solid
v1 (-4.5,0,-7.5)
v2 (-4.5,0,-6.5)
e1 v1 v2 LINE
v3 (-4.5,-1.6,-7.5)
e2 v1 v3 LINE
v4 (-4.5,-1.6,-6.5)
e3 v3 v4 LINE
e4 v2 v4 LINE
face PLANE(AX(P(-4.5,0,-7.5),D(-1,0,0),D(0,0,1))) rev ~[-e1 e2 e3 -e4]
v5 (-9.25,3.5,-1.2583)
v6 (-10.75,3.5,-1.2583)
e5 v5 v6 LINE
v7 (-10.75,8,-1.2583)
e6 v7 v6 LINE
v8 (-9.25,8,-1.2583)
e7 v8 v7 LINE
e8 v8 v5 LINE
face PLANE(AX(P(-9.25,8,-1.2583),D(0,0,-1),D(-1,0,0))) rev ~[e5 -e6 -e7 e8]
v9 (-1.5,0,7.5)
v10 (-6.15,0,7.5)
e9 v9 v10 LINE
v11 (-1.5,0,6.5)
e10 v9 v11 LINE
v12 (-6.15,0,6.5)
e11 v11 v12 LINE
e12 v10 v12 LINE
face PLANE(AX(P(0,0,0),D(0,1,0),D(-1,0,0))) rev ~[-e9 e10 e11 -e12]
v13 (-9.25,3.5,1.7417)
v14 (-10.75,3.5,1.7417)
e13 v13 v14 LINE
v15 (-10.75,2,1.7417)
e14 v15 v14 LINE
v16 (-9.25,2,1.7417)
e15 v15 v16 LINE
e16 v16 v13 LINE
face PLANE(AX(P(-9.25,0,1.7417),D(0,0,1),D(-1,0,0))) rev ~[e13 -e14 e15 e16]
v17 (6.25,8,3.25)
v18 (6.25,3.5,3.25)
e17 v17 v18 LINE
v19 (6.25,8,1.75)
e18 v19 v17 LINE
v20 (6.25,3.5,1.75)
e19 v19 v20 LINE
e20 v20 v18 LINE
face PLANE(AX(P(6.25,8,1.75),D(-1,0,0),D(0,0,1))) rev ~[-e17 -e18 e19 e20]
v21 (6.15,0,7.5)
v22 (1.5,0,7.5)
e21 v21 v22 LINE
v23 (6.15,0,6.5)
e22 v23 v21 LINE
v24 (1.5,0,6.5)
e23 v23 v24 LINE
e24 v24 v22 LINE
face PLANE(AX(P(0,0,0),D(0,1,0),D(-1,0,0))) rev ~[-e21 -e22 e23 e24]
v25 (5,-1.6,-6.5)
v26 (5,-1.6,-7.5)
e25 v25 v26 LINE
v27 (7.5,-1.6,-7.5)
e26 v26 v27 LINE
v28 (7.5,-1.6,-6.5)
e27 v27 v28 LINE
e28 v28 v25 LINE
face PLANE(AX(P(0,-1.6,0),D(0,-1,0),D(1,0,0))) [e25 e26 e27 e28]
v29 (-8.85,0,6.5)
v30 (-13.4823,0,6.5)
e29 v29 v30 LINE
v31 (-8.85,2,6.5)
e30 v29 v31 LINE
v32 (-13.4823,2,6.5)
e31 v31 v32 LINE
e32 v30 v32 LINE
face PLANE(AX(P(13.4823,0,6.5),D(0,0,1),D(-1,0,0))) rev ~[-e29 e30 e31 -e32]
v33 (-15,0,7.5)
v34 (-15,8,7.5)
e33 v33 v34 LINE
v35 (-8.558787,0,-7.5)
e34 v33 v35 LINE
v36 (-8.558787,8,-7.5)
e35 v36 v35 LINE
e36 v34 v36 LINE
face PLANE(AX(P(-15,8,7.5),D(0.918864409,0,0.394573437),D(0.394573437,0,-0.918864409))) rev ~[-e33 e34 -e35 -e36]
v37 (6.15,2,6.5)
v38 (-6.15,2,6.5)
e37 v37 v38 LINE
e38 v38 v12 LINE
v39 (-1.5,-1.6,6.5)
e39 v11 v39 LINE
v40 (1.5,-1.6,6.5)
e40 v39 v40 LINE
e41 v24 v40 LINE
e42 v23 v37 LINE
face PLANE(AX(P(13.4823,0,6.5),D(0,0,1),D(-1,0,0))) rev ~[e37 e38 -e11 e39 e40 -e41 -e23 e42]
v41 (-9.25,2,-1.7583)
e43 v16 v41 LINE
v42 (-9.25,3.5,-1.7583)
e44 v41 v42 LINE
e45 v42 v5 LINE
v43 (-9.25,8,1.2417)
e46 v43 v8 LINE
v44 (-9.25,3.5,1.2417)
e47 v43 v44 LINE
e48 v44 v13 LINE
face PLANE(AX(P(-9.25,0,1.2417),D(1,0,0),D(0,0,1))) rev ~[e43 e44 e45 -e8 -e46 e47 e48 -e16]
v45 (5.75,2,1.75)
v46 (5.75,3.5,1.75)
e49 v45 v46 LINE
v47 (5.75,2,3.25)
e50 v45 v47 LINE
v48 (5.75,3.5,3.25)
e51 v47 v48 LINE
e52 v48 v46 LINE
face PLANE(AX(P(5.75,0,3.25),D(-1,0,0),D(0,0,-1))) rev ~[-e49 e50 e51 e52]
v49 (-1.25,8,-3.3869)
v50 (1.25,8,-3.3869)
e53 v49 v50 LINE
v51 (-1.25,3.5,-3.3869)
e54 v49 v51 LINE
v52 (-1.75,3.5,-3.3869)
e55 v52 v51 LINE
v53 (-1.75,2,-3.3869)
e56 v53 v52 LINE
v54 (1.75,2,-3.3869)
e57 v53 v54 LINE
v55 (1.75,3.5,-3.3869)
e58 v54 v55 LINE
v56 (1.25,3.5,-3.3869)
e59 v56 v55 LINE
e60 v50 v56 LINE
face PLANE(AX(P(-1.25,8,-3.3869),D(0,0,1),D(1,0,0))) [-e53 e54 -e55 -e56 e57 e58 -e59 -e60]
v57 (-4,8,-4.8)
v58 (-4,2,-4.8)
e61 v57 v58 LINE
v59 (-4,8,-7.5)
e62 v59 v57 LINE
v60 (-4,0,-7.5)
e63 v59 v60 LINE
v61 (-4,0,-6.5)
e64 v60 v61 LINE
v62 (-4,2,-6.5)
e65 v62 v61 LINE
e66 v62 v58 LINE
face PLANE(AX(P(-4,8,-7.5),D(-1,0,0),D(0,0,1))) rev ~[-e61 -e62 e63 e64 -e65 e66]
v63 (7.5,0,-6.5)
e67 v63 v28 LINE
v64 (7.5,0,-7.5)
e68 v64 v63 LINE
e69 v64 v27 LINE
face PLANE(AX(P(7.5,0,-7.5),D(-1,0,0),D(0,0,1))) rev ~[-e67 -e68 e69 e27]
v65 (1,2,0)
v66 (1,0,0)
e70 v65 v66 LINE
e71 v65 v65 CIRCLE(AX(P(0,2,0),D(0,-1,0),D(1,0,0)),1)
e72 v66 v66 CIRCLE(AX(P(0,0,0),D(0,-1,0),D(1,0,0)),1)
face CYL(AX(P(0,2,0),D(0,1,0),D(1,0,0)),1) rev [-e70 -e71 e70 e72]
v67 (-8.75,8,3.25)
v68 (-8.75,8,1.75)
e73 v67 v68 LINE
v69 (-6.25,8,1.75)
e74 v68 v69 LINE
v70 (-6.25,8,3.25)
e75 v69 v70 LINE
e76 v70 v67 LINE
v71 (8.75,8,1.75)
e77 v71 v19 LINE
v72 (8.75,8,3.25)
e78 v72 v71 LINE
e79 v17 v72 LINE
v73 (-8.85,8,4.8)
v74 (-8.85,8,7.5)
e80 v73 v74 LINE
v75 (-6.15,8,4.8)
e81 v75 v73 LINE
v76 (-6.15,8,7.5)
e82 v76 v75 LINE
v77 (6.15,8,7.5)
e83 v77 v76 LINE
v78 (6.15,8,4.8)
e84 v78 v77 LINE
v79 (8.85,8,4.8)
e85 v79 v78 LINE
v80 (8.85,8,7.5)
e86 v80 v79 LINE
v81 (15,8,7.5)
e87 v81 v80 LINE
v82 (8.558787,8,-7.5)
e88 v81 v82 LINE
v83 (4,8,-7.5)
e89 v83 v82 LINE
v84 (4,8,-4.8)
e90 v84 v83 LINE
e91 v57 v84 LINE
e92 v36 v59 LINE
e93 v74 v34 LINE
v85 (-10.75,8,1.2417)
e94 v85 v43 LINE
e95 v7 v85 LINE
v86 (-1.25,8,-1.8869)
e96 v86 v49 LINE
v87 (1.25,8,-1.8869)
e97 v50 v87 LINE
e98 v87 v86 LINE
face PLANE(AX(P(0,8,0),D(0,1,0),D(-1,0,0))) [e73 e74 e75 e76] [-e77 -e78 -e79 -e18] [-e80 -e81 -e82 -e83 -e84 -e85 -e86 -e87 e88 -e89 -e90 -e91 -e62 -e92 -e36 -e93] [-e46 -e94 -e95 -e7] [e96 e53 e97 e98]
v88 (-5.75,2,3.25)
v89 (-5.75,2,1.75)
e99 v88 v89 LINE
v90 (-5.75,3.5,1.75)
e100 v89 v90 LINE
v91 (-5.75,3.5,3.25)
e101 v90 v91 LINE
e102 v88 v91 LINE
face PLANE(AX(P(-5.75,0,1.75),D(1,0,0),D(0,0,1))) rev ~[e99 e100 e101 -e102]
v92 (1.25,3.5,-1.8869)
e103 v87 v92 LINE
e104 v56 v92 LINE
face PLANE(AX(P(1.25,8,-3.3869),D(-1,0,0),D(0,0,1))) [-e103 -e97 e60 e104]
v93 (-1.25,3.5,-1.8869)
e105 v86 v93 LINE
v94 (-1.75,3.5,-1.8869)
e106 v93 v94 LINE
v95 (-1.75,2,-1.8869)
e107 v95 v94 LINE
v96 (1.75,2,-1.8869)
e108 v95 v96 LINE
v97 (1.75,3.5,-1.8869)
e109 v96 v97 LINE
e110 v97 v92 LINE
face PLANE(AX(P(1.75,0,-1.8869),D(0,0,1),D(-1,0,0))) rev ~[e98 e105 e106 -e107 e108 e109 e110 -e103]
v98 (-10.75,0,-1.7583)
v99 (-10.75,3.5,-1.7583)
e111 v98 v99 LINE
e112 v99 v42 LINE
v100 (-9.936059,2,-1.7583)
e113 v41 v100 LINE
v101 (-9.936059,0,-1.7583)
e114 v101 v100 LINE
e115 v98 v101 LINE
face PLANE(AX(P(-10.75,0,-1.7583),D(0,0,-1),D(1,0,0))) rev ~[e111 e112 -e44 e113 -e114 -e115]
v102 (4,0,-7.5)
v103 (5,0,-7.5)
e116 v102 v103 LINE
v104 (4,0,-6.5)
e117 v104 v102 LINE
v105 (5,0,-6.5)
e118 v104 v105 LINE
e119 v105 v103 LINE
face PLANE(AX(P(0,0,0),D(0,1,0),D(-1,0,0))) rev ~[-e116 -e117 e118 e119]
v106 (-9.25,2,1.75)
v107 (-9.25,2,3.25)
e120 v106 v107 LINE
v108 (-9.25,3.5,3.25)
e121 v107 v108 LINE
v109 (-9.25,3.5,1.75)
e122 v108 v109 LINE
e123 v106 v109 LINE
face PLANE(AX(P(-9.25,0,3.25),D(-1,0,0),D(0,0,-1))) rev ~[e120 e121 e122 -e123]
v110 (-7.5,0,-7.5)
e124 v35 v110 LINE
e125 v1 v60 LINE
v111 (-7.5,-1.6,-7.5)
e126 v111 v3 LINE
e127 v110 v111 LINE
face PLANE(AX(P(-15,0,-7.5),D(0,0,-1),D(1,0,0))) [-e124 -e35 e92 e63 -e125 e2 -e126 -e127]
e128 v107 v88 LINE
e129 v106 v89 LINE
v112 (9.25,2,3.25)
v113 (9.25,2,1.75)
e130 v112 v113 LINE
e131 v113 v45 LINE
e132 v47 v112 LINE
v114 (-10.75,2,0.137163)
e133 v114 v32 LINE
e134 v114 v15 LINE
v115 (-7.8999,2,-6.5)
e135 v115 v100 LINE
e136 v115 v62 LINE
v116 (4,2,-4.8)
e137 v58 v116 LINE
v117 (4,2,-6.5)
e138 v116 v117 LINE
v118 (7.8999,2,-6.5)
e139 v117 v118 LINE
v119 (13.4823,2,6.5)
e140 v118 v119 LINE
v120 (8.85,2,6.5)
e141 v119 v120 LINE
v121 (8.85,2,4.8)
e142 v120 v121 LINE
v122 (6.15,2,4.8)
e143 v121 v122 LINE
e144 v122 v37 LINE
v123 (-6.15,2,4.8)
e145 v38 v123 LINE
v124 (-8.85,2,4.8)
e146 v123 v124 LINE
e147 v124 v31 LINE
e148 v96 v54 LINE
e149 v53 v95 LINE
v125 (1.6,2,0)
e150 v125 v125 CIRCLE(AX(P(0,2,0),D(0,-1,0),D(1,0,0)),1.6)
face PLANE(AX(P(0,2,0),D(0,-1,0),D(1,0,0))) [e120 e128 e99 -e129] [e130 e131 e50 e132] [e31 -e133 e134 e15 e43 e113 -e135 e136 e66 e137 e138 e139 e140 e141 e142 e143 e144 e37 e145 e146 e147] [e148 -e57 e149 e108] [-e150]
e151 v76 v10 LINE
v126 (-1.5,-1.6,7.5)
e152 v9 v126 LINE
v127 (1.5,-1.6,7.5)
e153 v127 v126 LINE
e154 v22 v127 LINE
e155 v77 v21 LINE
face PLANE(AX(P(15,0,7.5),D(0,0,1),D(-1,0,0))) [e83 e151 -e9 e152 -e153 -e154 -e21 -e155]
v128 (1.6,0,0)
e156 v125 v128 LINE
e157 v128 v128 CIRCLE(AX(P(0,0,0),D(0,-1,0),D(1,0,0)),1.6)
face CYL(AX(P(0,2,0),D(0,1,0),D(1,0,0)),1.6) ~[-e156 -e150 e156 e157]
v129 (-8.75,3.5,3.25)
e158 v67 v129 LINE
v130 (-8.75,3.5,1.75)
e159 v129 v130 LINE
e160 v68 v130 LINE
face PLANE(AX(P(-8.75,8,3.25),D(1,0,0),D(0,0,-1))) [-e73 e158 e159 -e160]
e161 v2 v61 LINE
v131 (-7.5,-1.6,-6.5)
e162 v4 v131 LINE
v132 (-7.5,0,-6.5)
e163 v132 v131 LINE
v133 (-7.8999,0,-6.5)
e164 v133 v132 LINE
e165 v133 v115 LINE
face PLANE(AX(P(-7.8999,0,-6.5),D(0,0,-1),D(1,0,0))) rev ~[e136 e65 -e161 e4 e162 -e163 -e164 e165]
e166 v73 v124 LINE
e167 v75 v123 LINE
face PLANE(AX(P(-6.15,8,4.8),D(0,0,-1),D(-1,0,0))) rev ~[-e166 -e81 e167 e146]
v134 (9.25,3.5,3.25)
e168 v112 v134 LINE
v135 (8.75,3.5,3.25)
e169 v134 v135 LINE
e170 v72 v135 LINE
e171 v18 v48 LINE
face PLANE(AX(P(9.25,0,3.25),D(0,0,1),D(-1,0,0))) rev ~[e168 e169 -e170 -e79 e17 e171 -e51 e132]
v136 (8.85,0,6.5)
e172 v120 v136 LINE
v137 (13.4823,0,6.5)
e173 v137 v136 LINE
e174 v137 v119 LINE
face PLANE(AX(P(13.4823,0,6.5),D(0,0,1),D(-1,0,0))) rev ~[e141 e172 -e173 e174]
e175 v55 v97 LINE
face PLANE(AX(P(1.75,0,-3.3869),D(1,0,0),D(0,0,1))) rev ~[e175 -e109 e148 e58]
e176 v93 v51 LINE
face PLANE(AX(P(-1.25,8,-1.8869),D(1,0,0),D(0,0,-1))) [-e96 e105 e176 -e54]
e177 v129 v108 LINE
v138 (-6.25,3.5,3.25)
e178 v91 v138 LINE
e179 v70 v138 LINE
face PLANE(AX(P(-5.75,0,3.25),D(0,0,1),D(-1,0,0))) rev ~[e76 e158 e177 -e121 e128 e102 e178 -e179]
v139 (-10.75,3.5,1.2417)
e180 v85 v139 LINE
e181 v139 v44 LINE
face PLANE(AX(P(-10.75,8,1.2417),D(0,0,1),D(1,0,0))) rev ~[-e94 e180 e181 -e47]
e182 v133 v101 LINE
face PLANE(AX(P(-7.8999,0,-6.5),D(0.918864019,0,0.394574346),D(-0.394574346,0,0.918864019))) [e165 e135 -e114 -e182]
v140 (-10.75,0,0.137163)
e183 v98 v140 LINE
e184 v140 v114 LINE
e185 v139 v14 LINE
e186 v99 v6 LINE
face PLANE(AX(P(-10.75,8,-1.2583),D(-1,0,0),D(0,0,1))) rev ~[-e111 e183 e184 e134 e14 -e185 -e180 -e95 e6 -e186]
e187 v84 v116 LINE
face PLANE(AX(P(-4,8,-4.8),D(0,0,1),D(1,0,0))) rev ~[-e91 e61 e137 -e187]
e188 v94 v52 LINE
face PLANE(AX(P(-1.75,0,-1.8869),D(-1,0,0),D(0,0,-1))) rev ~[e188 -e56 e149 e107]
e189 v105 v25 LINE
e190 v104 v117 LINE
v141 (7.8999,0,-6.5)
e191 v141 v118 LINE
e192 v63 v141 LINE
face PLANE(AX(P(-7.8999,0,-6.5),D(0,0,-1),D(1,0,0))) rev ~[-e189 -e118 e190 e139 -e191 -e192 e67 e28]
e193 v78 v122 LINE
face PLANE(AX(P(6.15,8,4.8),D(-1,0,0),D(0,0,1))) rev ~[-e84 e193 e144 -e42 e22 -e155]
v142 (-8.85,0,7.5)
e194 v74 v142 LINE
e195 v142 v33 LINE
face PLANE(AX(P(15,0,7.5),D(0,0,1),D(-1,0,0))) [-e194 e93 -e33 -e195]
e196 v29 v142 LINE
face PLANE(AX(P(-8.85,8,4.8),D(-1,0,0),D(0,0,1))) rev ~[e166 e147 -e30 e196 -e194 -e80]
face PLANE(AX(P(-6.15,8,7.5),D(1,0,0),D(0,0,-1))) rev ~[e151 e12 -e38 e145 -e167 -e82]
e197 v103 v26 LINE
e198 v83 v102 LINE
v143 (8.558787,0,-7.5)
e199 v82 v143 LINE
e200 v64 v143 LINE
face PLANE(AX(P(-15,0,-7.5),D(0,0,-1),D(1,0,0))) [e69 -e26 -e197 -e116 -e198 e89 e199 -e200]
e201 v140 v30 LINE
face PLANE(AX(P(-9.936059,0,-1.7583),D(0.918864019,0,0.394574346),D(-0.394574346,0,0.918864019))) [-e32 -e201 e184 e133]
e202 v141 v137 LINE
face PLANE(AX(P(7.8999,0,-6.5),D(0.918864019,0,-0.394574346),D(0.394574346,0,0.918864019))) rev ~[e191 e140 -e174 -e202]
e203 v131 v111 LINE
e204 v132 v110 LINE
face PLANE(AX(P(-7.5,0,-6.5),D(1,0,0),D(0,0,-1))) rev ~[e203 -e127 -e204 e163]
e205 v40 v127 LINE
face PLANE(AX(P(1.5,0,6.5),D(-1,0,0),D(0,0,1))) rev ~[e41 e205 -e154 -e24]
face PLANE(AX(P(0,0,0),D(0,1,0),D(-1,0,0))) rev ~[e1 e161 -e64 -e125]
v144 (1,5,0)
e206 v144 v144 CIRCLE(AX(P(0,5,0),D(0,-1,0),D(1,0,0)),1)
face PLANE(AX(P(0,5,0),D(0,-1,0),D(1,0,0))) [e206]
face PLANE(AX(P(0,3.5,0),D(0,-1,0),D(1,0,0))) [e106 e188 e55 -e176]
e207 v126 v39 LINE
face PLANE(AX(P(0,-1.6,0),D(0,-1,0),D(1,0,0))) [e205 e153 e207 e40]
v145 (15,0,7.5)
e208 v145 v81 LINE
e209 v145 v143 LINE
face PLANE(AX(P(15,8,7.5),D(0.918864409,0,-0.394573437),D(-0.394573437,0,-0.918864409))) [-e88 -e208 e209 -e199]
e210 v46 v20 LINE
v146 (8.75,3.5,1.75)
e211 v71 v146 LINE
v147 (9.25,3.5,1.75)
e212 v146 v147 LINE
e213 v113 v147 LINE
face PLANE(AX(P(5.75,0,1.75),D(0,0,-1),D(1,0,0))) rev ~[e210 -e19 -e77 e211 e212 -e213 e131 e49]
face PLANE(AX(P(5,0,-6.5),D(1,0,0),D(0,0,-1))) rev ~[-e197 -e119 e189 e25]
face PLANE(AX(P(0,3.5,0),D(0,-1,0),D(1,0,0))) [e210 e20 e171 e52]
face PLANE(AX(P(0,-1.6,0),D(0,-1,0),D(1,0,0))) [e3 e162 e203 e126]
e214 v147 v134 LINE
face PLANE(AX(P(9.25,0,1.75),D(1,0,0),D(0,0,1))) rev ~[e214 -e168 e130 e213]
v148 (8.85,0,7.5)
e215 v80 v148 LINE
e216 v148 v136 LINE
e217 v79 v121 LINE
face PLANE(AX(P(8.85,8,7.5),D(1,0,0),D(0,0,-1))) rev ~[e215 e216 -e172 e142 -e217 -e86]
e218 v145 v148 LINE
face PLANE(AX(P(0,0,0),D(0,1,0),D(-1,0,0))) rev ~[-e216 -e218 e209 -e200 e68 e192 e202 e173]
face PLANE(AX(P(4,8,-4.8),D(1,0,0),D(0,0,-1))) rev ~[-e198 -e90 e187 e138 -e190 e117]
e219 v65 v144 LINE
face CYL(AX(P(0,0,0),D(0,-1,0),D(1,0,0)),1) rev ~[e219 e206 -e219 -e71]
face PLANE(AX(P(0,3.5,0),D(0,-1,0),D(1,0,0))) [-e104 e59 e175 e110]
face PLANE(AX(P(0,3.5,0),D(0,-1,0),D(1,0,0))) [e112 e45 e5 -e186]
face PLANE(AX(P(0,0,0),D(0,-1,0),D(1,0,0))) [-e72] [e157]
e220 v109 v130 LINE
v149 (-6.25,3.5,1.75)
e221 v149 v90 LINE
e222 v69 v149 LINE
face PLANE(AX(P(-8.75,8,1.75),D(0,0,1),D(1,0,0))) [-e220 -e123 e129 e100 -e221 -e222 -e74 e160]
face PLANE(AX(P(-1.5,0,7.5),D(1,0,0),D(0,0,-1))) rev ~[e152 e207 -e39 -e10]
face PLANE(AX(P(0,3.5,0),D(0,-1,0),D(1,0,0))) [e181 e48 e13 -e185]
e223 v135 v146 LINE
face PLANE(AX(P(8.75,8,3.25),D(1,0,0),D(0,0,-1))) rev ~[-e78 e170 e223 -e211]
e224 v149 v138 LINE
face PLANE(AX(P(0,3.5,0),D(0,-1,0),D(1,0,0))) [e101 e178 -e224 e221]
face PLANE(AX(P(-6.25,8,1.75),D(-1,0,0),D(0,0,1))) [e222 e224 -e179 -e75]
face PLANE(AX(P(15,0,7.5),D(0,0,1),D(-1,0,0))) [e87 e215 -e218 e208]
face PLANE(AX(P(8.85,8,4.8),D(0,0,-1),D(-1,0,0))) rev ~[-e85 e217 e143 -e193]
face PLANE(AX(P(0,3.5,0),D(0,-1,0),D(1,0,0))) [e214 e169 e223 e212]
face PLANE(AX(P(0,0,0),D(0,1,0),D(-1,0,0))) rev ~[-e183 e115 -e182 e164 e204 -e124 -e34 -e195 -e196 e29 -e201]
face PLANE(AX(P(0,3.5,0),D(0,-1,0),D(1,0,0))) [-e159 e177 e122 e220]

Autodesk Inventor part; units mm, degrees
ref_plane "YZ Plane" through (0, 0, 0) normal (1, 0, 0) x (0, 1, 0)
ref_plane "XZ Plane" through (0, 0, 0) normal (0, 1, 0) x (-1, 0, 0)
ref_plane "XY Plane" through (0, 0, 0) normal (0, 0, 1) x (1, 0, 0)
sketch "Sketch1" plane through (0, 0, 0) normal (0, 1, 0) x (-1, 0, 0)
  line L0 (-15, 7.5) -> (15, 7.5)
  line L1 (15, 7.5) -> (15, -7.5)
  line L2 (15, -7.5) -> (-15, -7.5)
  line L3 (-15, -7.5) -> (-15, 7.5)
  line L4 (-15, 7.5) -> (15, -7.5) construction
  line L5 (15, 7.5) -> (-15, -7.5) construction
  point P0 (0, 0)
  dimension "d0" = 30
  dimension "d1" = 15
extrude "Extrusion1" add sketch "Sketch1" along normal blind 8
sketch "Sketch3" plane through (0, 8, 0) normal (0, 1, 0) x (1, 0, 0)
  line L0 (-15, 7.5) -> (-15, -7.5) projected
  line L1 (-15, -7.5) -> (15, -7.5) projected
  line L2 (-15, -7.5) -> (15, -7.5)
  line L3 (15, -7.5) -> (8.5, 7.6369)
  line L4 (-15, -7.5) -> (-8.5, 7.6369)
  line L5 (-8.5, 7.6369) -> (8.5, 7.6369)
  line L6 (-10.75, -1.2417) -> (-9.25, -1.2417)
  line L7 (-9.25, -1.2417) -> (-9.25, 1.2583)
  line L8 (-9.25, 1.2583) -> (-10.75, 1.2583)
  line L9 (-10.75, 1.2583) -> (-10.75, -1.2417)
  line L10 (-10.75, -1.2417) -> (-9.25, 1.2583) construction
  line L11 (-9.25, -1.2417) -> (-10.75, 1.2583) construction
  line L12 (-6.25, -3.25) -> (-8.75, -3.25)
  line L13 (-8.75, -3.25) -> (-8.75, -1.75)
  line L14 (-8.75, -1.75) -> (-6.25, -1.75)
  line L15 (-6.25, -1.75) -> (-6.25, -3.25)
  line L16 (-6.25, -3.25) -> (-8.75, -1.75) construction
  line L17 (-8.75, -3.25) -> (-6.25, -1.75) construction
  line L18 (8.75, -1.75) -> (6.25, -1.75)
  line L19 (6.25, -1.75) -> (6.25, -3.25)
  line L20 (6.25, -3.25) -> (8.75, -3.25)
  line L21 (8.75, -3.25) -> (8.75, -1.75)
  line L22 (8.75, -1.75) -> (6.25, -3.25) construction
  line L23 (6.25, -1.75) -> (8.75, -3.25) construction
  line L24 (15, 7.5) -> (-15, 7.5) projected
  line L25 (-15, -7.5) -> (-15, 7.5)
  line L26 (-15, 7.5) -> (15, 7.5)
  line L27 (15, 7.5) -> (15, -7.5)
  line L28 (1.25, 1.8869) -> (-1.25, 1.8869)
  line L29 (-1.25, 1.8869) -> (-1.25, 3.3869)
  line L30 (-1.25, 3.3869) -> (1.25, 3.3869)
  line L31 (1.25, 3.3869) -> (1.25, 1.8869)
  line L32 (1.25, 1.8869) -> (-1.25, 3.3869) construction
  line L33 (-1.25, 1.8869) -> (1.25, 3.3869) construction
  point P0 (0, 0)
  point P1 (-10, 0.0083)
  point P2 (-7.5, -2.5)
  point P3 (7.5, -2.5)
  point P4 (0, -7.5)
  point P5 (0, -7.5)
  point P6 (0, 2.6369)
  point P7 (8.5588, 7.5)
  point P8 (-8.5588, 7.5)
  dimension "d19" = 17
  dimension "d20" = 1.5
  dimension "d21" = 2.5
  dimension "d22" = 5
  dimension "d24" = 7.5
  dimension "d25" = 7.5
  dimension "d26" = 5
  dimension "d27" = 5
  dimension "d28" = 5
  dimension "d29" = 0
extrude "Extrusion3" cut sketch "Sketch3" against normal blind 8 contours L24 L4 L0 | L3 L24 L27 | L9 L8 L7 L6 | L12 L13 L14 L15 | L21 L20 L19 L18 | L28 L29 L30 L31
sketch "Sketch4" plane through (0, 0, 0) normal (0, -1, 0) x (1, 0, 0)
  line L0 (-9.25, 1.7417) -> (-10.75, 1.7417)
  line L1 (-10.75, 1.7417) -> (-10.75, -1.7583)
  line L2 (-10.75, -1.7583) -> (-9.25, -1.7583)
  line L3 (-9.25, -1.7583) -> (-9.25, 1.7417)
  line L4 (-9.25, 1.7417) -> (-10.75, -1.7583) construction
  line L5 (-10.75, 1.7417) -> (-9.25, -1.7583) construction
  line L6 (-10.75, -1.2583) -> (-10.75, 1.2417) projected
  line L7 (-9.25, 1.2417) -> (-9.25, -1.2583) projected
  line L8 (-9.25, -1.2583) -> (-10.75, -1.2583) projected
  line L9 (-10.75, 1.2417) -> (-9.25, 1.2417) projected
  line L10 (-8.75, 3.25) -> (-6.25, 3.25) construction
  line L11 (-7.5, 3.25) -> (-7.5, 1.75) construction
  line L12 (-8.75, 1.75) -> (-6.25, 1.75) construction
  line L13 (-1.25, -1.8869) -> (1.25, -1.8869) construction
  line L14 (0, -1.8869) -> (0, -3.3869) construction
  line L15 (1.25, -3.3869) -> (-1.25, -3.3869) construction
  line L16 (6.25, 3.25) -> (8.75, 3.25) construction
  line L17 (7.5, 3.25) -> (7.5, 1.75) construction
  line L18 (8.75, 1.75) -> (6.25, 1.75) construction
  line L19 (9.25, 3.25) -> (5.75, 3.25)
  line L20 (5.75, 3.25) -> (5.75, 1.75)
  line L21 (5.75, 1.75) -> (9.25, 1.75)
  line L22 (9.25, 1.75) -> (9.25, 3.25)
  line L23 (9.25, 3.25) -> (5.75, 1.75) construction
  line L24 (5.75, 3.25) -> (9.25, 1.75) construction
  line L25 (1.75, -1.8869) -> (-1.75, -1.8869)
  line L26 (-1.75, -1.8869) -> (-1.75, -3.3869)
  line L27 (-1.75, -3.3869) -> (1.75, -3.3869)
  line L28 (1.75, -3.3869) -> (1.75, -1.8869)
  line L29 (1.75, -1.8869) -> (-1.75, -3.3869) construction
  line L30 (-1.75, -1.8869) -> (1.75, -3.3869) construction
  line L31 (-5.75, 3.25) -> (-9.25, 3.25)
  line L32 (-9.25, 3.25) -> (-9.25, 1.75)
  line L33 (-9.25, 1.75) -> (-5.75, 1.75)
  line L34 (-5.75, 1.75) -> (-5.75, 3.25)
  line L35 (-5.75, 3.25) -> (-9.25, 1.75) construction
  line L36 (-9.25, 3.25) -> (-5.75, 1.75) construction
  point P0 (0, 0)
  point P1 (-10, -0.0083)
  point P2 (7.5, 2.5)
  point P3 (0, -2.6369)
  point P4 (-7.5, 2.5)
  point P5 (-10.75, 1.2417)
  dimension "d32" = 0
  dimension "d33" = 0
  dimension "d34" = 0.5
  dimension "d35" = 0.5
  dimension "d36" = 3.5
  dimension "d37" = 3.5
  dimension "d38" = 3.5
extrude "Extrusion4" cut sketch "Sketch4" against normal blind 3.5
sketch "Sketch5" plane through (0, 0, 0) normal (0, -1, 0) x (1, 0, 0)
  line L0 (-9.25, -1.7583) -> (-10.75, -1.7583) projected
  line L1 (-15, 7.5) -> (-8.5588, -7.5) projected
  line L2 (8.5588, -7.5) -> (-8.5588, -7.5) projected
  line L3 (-7.8999, -6.5) -> (7.8999, -6.5)
  line L4 (7.8999, -6.5) -> (13.4823, 6.5)
  line L5 (8.5588, -7.5) -> (15, 7.5) projected
  line L6 (-15, 7.5) -> (15, 7.5) projected
  line L7 (13.4823, 6.5) -> (-14, 6.5)
  line L8 (-7.8999, -6.5) -> (-13.4823, 6.5)
  point P0 (0, 0)
  point P1 (-13.4823, 6.5)
  dimension "d41" = 1
  dimension "d42" = 1
  dimension "d43" = 1
  dimension "d44" = 1
  dimension "d45" = 1
  dimension "d46" = 1
sketch "Sketch2" plane through (0, 8, 0) normal (0, 1, 0) x (1, 0, 0)
  line L0 (4, 7.5) -> (-4, 7.5)
  line L1 (-4, 7.5) -> (-4, 4.8)
  line L2 (-4, 4.8) -> (4, 4.8)
  line L3 (4, 4.8) -> (4, 7.5)
  line L4 (4, 7.5) -> (-4, 4.8) construction
  line L5 (-4, 7.5) -> (4, 4.8) construction
  line L6 (-6.15, -4.8) -> (-8.85, -4.8)
  line L7 (-8.85, -4.8) -> (-8.85, -7.5)
  line L8 (-8.85, -7.5) -> (-6.15, -7.5)
  line L9 (-6.15, -7.5) -> (-6.15, -4.8)
  line L10 (-6.15, -4.8) -> (-8.85, -7.5) construction
  line L11 (-8.85, -4.8) -> (-6.15, -7.5) construction
  line L12 (8.85, -4.8) -> (6.15, -4.8)
  line L13 (6.15, -4.8) -> (6.15, -7.5)
  line L14 (6.15, -7.5) -> (8.85, -7.5)
  line L15 (8.85, -7.5) -> (8.85, -4.8)
  line L16 (8.85, -4.8) -> (6.15, -7.5) construction
  line L17 (6.15, -4.8) -> (8.85, -7.5) construction
  point P0 (0, 0)
  point P1 (0, 6.15)
  point P2 (-7.5, -6.15)
  point P3 (7.5, -6.15)
  dimension "d8" = 8
  dimension "d9" = 2.7
  dimension "d10" = 7.5
  dimension "d11" = 2.7
  dimension "d12" = 7.5
  dimension "d13" = 7.5
  dimension "d15" = 7.5
  dimension "d16" = 7.5
extrude "Extrusion2" cut sketch "Sketch2" against normal blind 8
extrude "Extrusion5" cut sketch "Sketch5" against normal blind 2 contours L8 L7 L4 L3
sketch "Sketch6" plane through (0, 2, 0) normal (0, -1, 0) x (1, 0, 0)
  circle A0 centre (0, 0) radius 1
  circle A1 centre (0, 0) radius 1.6
  dimension "d49" = 2
  dimension "d50" = 0.6
extrude "Extrusion6" add sketch "Sketch6" along normal blind 2
sketch "Sketch7" plane through (0, 0, 0) normal (0, -1, 0) x (1, 0, 0)
  circle A0 centre (0, 0) radius 1
  dimension "d74" = 2
extrude "Extrusion7" cut sketch "Sketch7" against normal blind 5
sketch "Sketch8" plane through (0, 0, 0) normal (0, -1, 0) x (1, 0, 0)
  line L0 (-7.5, -7.5) -> (-4.5, -7.5)
  line L1 (-4.5, -7.5) -> (-4.5, -6.5)
  line L2 (-4.5, -6.5) -> (-7.5, -6.5)
  line L3 (-7.5, -6.5) -> (-7.5, -7.5)
  line L4 (7.5, -6.5) -> (5, -6.5)
  line L5 (5, -6.5) -> (5, -7.5)
  line L6 (5, -7.5) -> (7.5, -7.5)
  line L7 (7.5, -7.5) -> (7.5, -6.5)
  line L8 (1.5, 7.5) -> (-1.5, 7.5)
  line L9 (-1.5, 7.5) -> (-1.5, 6.5)
  line L10 (-1.5, 6.5) -> (1.5, 6.5)
  line L11 (1.5, 6.5) -> (1.5, 7.5)
  line L12 (1.5, 7.5) -> (-1.5, 6.5) construction
  line L13 (-1.5, 7.5) -> (1.5, 6.5) construction
  point P0 (0, 0)
  point P1 (0, 7)
  point P2 (-6, -6.5)
  point P3 (6.25, -7.5)
  point P4 (-6, -7.5)
  dimension "d55" = 3
  dimension "d56" = 1
  dimension "d57" = 2.5
  dimension "d58" = 1
  dimension "d59" = 3
  dimension "d60" = 1
  dimension "d62" = 7.5
  dimension "d63" = 7.5
  dimension "d64" = 7.5
  dimension "d72" = 9.5
  dimension "d73" = 6
extrude "Extrusion8" add sketch "Sketch8" along normal blind 1.6
properties part number "MUX"
